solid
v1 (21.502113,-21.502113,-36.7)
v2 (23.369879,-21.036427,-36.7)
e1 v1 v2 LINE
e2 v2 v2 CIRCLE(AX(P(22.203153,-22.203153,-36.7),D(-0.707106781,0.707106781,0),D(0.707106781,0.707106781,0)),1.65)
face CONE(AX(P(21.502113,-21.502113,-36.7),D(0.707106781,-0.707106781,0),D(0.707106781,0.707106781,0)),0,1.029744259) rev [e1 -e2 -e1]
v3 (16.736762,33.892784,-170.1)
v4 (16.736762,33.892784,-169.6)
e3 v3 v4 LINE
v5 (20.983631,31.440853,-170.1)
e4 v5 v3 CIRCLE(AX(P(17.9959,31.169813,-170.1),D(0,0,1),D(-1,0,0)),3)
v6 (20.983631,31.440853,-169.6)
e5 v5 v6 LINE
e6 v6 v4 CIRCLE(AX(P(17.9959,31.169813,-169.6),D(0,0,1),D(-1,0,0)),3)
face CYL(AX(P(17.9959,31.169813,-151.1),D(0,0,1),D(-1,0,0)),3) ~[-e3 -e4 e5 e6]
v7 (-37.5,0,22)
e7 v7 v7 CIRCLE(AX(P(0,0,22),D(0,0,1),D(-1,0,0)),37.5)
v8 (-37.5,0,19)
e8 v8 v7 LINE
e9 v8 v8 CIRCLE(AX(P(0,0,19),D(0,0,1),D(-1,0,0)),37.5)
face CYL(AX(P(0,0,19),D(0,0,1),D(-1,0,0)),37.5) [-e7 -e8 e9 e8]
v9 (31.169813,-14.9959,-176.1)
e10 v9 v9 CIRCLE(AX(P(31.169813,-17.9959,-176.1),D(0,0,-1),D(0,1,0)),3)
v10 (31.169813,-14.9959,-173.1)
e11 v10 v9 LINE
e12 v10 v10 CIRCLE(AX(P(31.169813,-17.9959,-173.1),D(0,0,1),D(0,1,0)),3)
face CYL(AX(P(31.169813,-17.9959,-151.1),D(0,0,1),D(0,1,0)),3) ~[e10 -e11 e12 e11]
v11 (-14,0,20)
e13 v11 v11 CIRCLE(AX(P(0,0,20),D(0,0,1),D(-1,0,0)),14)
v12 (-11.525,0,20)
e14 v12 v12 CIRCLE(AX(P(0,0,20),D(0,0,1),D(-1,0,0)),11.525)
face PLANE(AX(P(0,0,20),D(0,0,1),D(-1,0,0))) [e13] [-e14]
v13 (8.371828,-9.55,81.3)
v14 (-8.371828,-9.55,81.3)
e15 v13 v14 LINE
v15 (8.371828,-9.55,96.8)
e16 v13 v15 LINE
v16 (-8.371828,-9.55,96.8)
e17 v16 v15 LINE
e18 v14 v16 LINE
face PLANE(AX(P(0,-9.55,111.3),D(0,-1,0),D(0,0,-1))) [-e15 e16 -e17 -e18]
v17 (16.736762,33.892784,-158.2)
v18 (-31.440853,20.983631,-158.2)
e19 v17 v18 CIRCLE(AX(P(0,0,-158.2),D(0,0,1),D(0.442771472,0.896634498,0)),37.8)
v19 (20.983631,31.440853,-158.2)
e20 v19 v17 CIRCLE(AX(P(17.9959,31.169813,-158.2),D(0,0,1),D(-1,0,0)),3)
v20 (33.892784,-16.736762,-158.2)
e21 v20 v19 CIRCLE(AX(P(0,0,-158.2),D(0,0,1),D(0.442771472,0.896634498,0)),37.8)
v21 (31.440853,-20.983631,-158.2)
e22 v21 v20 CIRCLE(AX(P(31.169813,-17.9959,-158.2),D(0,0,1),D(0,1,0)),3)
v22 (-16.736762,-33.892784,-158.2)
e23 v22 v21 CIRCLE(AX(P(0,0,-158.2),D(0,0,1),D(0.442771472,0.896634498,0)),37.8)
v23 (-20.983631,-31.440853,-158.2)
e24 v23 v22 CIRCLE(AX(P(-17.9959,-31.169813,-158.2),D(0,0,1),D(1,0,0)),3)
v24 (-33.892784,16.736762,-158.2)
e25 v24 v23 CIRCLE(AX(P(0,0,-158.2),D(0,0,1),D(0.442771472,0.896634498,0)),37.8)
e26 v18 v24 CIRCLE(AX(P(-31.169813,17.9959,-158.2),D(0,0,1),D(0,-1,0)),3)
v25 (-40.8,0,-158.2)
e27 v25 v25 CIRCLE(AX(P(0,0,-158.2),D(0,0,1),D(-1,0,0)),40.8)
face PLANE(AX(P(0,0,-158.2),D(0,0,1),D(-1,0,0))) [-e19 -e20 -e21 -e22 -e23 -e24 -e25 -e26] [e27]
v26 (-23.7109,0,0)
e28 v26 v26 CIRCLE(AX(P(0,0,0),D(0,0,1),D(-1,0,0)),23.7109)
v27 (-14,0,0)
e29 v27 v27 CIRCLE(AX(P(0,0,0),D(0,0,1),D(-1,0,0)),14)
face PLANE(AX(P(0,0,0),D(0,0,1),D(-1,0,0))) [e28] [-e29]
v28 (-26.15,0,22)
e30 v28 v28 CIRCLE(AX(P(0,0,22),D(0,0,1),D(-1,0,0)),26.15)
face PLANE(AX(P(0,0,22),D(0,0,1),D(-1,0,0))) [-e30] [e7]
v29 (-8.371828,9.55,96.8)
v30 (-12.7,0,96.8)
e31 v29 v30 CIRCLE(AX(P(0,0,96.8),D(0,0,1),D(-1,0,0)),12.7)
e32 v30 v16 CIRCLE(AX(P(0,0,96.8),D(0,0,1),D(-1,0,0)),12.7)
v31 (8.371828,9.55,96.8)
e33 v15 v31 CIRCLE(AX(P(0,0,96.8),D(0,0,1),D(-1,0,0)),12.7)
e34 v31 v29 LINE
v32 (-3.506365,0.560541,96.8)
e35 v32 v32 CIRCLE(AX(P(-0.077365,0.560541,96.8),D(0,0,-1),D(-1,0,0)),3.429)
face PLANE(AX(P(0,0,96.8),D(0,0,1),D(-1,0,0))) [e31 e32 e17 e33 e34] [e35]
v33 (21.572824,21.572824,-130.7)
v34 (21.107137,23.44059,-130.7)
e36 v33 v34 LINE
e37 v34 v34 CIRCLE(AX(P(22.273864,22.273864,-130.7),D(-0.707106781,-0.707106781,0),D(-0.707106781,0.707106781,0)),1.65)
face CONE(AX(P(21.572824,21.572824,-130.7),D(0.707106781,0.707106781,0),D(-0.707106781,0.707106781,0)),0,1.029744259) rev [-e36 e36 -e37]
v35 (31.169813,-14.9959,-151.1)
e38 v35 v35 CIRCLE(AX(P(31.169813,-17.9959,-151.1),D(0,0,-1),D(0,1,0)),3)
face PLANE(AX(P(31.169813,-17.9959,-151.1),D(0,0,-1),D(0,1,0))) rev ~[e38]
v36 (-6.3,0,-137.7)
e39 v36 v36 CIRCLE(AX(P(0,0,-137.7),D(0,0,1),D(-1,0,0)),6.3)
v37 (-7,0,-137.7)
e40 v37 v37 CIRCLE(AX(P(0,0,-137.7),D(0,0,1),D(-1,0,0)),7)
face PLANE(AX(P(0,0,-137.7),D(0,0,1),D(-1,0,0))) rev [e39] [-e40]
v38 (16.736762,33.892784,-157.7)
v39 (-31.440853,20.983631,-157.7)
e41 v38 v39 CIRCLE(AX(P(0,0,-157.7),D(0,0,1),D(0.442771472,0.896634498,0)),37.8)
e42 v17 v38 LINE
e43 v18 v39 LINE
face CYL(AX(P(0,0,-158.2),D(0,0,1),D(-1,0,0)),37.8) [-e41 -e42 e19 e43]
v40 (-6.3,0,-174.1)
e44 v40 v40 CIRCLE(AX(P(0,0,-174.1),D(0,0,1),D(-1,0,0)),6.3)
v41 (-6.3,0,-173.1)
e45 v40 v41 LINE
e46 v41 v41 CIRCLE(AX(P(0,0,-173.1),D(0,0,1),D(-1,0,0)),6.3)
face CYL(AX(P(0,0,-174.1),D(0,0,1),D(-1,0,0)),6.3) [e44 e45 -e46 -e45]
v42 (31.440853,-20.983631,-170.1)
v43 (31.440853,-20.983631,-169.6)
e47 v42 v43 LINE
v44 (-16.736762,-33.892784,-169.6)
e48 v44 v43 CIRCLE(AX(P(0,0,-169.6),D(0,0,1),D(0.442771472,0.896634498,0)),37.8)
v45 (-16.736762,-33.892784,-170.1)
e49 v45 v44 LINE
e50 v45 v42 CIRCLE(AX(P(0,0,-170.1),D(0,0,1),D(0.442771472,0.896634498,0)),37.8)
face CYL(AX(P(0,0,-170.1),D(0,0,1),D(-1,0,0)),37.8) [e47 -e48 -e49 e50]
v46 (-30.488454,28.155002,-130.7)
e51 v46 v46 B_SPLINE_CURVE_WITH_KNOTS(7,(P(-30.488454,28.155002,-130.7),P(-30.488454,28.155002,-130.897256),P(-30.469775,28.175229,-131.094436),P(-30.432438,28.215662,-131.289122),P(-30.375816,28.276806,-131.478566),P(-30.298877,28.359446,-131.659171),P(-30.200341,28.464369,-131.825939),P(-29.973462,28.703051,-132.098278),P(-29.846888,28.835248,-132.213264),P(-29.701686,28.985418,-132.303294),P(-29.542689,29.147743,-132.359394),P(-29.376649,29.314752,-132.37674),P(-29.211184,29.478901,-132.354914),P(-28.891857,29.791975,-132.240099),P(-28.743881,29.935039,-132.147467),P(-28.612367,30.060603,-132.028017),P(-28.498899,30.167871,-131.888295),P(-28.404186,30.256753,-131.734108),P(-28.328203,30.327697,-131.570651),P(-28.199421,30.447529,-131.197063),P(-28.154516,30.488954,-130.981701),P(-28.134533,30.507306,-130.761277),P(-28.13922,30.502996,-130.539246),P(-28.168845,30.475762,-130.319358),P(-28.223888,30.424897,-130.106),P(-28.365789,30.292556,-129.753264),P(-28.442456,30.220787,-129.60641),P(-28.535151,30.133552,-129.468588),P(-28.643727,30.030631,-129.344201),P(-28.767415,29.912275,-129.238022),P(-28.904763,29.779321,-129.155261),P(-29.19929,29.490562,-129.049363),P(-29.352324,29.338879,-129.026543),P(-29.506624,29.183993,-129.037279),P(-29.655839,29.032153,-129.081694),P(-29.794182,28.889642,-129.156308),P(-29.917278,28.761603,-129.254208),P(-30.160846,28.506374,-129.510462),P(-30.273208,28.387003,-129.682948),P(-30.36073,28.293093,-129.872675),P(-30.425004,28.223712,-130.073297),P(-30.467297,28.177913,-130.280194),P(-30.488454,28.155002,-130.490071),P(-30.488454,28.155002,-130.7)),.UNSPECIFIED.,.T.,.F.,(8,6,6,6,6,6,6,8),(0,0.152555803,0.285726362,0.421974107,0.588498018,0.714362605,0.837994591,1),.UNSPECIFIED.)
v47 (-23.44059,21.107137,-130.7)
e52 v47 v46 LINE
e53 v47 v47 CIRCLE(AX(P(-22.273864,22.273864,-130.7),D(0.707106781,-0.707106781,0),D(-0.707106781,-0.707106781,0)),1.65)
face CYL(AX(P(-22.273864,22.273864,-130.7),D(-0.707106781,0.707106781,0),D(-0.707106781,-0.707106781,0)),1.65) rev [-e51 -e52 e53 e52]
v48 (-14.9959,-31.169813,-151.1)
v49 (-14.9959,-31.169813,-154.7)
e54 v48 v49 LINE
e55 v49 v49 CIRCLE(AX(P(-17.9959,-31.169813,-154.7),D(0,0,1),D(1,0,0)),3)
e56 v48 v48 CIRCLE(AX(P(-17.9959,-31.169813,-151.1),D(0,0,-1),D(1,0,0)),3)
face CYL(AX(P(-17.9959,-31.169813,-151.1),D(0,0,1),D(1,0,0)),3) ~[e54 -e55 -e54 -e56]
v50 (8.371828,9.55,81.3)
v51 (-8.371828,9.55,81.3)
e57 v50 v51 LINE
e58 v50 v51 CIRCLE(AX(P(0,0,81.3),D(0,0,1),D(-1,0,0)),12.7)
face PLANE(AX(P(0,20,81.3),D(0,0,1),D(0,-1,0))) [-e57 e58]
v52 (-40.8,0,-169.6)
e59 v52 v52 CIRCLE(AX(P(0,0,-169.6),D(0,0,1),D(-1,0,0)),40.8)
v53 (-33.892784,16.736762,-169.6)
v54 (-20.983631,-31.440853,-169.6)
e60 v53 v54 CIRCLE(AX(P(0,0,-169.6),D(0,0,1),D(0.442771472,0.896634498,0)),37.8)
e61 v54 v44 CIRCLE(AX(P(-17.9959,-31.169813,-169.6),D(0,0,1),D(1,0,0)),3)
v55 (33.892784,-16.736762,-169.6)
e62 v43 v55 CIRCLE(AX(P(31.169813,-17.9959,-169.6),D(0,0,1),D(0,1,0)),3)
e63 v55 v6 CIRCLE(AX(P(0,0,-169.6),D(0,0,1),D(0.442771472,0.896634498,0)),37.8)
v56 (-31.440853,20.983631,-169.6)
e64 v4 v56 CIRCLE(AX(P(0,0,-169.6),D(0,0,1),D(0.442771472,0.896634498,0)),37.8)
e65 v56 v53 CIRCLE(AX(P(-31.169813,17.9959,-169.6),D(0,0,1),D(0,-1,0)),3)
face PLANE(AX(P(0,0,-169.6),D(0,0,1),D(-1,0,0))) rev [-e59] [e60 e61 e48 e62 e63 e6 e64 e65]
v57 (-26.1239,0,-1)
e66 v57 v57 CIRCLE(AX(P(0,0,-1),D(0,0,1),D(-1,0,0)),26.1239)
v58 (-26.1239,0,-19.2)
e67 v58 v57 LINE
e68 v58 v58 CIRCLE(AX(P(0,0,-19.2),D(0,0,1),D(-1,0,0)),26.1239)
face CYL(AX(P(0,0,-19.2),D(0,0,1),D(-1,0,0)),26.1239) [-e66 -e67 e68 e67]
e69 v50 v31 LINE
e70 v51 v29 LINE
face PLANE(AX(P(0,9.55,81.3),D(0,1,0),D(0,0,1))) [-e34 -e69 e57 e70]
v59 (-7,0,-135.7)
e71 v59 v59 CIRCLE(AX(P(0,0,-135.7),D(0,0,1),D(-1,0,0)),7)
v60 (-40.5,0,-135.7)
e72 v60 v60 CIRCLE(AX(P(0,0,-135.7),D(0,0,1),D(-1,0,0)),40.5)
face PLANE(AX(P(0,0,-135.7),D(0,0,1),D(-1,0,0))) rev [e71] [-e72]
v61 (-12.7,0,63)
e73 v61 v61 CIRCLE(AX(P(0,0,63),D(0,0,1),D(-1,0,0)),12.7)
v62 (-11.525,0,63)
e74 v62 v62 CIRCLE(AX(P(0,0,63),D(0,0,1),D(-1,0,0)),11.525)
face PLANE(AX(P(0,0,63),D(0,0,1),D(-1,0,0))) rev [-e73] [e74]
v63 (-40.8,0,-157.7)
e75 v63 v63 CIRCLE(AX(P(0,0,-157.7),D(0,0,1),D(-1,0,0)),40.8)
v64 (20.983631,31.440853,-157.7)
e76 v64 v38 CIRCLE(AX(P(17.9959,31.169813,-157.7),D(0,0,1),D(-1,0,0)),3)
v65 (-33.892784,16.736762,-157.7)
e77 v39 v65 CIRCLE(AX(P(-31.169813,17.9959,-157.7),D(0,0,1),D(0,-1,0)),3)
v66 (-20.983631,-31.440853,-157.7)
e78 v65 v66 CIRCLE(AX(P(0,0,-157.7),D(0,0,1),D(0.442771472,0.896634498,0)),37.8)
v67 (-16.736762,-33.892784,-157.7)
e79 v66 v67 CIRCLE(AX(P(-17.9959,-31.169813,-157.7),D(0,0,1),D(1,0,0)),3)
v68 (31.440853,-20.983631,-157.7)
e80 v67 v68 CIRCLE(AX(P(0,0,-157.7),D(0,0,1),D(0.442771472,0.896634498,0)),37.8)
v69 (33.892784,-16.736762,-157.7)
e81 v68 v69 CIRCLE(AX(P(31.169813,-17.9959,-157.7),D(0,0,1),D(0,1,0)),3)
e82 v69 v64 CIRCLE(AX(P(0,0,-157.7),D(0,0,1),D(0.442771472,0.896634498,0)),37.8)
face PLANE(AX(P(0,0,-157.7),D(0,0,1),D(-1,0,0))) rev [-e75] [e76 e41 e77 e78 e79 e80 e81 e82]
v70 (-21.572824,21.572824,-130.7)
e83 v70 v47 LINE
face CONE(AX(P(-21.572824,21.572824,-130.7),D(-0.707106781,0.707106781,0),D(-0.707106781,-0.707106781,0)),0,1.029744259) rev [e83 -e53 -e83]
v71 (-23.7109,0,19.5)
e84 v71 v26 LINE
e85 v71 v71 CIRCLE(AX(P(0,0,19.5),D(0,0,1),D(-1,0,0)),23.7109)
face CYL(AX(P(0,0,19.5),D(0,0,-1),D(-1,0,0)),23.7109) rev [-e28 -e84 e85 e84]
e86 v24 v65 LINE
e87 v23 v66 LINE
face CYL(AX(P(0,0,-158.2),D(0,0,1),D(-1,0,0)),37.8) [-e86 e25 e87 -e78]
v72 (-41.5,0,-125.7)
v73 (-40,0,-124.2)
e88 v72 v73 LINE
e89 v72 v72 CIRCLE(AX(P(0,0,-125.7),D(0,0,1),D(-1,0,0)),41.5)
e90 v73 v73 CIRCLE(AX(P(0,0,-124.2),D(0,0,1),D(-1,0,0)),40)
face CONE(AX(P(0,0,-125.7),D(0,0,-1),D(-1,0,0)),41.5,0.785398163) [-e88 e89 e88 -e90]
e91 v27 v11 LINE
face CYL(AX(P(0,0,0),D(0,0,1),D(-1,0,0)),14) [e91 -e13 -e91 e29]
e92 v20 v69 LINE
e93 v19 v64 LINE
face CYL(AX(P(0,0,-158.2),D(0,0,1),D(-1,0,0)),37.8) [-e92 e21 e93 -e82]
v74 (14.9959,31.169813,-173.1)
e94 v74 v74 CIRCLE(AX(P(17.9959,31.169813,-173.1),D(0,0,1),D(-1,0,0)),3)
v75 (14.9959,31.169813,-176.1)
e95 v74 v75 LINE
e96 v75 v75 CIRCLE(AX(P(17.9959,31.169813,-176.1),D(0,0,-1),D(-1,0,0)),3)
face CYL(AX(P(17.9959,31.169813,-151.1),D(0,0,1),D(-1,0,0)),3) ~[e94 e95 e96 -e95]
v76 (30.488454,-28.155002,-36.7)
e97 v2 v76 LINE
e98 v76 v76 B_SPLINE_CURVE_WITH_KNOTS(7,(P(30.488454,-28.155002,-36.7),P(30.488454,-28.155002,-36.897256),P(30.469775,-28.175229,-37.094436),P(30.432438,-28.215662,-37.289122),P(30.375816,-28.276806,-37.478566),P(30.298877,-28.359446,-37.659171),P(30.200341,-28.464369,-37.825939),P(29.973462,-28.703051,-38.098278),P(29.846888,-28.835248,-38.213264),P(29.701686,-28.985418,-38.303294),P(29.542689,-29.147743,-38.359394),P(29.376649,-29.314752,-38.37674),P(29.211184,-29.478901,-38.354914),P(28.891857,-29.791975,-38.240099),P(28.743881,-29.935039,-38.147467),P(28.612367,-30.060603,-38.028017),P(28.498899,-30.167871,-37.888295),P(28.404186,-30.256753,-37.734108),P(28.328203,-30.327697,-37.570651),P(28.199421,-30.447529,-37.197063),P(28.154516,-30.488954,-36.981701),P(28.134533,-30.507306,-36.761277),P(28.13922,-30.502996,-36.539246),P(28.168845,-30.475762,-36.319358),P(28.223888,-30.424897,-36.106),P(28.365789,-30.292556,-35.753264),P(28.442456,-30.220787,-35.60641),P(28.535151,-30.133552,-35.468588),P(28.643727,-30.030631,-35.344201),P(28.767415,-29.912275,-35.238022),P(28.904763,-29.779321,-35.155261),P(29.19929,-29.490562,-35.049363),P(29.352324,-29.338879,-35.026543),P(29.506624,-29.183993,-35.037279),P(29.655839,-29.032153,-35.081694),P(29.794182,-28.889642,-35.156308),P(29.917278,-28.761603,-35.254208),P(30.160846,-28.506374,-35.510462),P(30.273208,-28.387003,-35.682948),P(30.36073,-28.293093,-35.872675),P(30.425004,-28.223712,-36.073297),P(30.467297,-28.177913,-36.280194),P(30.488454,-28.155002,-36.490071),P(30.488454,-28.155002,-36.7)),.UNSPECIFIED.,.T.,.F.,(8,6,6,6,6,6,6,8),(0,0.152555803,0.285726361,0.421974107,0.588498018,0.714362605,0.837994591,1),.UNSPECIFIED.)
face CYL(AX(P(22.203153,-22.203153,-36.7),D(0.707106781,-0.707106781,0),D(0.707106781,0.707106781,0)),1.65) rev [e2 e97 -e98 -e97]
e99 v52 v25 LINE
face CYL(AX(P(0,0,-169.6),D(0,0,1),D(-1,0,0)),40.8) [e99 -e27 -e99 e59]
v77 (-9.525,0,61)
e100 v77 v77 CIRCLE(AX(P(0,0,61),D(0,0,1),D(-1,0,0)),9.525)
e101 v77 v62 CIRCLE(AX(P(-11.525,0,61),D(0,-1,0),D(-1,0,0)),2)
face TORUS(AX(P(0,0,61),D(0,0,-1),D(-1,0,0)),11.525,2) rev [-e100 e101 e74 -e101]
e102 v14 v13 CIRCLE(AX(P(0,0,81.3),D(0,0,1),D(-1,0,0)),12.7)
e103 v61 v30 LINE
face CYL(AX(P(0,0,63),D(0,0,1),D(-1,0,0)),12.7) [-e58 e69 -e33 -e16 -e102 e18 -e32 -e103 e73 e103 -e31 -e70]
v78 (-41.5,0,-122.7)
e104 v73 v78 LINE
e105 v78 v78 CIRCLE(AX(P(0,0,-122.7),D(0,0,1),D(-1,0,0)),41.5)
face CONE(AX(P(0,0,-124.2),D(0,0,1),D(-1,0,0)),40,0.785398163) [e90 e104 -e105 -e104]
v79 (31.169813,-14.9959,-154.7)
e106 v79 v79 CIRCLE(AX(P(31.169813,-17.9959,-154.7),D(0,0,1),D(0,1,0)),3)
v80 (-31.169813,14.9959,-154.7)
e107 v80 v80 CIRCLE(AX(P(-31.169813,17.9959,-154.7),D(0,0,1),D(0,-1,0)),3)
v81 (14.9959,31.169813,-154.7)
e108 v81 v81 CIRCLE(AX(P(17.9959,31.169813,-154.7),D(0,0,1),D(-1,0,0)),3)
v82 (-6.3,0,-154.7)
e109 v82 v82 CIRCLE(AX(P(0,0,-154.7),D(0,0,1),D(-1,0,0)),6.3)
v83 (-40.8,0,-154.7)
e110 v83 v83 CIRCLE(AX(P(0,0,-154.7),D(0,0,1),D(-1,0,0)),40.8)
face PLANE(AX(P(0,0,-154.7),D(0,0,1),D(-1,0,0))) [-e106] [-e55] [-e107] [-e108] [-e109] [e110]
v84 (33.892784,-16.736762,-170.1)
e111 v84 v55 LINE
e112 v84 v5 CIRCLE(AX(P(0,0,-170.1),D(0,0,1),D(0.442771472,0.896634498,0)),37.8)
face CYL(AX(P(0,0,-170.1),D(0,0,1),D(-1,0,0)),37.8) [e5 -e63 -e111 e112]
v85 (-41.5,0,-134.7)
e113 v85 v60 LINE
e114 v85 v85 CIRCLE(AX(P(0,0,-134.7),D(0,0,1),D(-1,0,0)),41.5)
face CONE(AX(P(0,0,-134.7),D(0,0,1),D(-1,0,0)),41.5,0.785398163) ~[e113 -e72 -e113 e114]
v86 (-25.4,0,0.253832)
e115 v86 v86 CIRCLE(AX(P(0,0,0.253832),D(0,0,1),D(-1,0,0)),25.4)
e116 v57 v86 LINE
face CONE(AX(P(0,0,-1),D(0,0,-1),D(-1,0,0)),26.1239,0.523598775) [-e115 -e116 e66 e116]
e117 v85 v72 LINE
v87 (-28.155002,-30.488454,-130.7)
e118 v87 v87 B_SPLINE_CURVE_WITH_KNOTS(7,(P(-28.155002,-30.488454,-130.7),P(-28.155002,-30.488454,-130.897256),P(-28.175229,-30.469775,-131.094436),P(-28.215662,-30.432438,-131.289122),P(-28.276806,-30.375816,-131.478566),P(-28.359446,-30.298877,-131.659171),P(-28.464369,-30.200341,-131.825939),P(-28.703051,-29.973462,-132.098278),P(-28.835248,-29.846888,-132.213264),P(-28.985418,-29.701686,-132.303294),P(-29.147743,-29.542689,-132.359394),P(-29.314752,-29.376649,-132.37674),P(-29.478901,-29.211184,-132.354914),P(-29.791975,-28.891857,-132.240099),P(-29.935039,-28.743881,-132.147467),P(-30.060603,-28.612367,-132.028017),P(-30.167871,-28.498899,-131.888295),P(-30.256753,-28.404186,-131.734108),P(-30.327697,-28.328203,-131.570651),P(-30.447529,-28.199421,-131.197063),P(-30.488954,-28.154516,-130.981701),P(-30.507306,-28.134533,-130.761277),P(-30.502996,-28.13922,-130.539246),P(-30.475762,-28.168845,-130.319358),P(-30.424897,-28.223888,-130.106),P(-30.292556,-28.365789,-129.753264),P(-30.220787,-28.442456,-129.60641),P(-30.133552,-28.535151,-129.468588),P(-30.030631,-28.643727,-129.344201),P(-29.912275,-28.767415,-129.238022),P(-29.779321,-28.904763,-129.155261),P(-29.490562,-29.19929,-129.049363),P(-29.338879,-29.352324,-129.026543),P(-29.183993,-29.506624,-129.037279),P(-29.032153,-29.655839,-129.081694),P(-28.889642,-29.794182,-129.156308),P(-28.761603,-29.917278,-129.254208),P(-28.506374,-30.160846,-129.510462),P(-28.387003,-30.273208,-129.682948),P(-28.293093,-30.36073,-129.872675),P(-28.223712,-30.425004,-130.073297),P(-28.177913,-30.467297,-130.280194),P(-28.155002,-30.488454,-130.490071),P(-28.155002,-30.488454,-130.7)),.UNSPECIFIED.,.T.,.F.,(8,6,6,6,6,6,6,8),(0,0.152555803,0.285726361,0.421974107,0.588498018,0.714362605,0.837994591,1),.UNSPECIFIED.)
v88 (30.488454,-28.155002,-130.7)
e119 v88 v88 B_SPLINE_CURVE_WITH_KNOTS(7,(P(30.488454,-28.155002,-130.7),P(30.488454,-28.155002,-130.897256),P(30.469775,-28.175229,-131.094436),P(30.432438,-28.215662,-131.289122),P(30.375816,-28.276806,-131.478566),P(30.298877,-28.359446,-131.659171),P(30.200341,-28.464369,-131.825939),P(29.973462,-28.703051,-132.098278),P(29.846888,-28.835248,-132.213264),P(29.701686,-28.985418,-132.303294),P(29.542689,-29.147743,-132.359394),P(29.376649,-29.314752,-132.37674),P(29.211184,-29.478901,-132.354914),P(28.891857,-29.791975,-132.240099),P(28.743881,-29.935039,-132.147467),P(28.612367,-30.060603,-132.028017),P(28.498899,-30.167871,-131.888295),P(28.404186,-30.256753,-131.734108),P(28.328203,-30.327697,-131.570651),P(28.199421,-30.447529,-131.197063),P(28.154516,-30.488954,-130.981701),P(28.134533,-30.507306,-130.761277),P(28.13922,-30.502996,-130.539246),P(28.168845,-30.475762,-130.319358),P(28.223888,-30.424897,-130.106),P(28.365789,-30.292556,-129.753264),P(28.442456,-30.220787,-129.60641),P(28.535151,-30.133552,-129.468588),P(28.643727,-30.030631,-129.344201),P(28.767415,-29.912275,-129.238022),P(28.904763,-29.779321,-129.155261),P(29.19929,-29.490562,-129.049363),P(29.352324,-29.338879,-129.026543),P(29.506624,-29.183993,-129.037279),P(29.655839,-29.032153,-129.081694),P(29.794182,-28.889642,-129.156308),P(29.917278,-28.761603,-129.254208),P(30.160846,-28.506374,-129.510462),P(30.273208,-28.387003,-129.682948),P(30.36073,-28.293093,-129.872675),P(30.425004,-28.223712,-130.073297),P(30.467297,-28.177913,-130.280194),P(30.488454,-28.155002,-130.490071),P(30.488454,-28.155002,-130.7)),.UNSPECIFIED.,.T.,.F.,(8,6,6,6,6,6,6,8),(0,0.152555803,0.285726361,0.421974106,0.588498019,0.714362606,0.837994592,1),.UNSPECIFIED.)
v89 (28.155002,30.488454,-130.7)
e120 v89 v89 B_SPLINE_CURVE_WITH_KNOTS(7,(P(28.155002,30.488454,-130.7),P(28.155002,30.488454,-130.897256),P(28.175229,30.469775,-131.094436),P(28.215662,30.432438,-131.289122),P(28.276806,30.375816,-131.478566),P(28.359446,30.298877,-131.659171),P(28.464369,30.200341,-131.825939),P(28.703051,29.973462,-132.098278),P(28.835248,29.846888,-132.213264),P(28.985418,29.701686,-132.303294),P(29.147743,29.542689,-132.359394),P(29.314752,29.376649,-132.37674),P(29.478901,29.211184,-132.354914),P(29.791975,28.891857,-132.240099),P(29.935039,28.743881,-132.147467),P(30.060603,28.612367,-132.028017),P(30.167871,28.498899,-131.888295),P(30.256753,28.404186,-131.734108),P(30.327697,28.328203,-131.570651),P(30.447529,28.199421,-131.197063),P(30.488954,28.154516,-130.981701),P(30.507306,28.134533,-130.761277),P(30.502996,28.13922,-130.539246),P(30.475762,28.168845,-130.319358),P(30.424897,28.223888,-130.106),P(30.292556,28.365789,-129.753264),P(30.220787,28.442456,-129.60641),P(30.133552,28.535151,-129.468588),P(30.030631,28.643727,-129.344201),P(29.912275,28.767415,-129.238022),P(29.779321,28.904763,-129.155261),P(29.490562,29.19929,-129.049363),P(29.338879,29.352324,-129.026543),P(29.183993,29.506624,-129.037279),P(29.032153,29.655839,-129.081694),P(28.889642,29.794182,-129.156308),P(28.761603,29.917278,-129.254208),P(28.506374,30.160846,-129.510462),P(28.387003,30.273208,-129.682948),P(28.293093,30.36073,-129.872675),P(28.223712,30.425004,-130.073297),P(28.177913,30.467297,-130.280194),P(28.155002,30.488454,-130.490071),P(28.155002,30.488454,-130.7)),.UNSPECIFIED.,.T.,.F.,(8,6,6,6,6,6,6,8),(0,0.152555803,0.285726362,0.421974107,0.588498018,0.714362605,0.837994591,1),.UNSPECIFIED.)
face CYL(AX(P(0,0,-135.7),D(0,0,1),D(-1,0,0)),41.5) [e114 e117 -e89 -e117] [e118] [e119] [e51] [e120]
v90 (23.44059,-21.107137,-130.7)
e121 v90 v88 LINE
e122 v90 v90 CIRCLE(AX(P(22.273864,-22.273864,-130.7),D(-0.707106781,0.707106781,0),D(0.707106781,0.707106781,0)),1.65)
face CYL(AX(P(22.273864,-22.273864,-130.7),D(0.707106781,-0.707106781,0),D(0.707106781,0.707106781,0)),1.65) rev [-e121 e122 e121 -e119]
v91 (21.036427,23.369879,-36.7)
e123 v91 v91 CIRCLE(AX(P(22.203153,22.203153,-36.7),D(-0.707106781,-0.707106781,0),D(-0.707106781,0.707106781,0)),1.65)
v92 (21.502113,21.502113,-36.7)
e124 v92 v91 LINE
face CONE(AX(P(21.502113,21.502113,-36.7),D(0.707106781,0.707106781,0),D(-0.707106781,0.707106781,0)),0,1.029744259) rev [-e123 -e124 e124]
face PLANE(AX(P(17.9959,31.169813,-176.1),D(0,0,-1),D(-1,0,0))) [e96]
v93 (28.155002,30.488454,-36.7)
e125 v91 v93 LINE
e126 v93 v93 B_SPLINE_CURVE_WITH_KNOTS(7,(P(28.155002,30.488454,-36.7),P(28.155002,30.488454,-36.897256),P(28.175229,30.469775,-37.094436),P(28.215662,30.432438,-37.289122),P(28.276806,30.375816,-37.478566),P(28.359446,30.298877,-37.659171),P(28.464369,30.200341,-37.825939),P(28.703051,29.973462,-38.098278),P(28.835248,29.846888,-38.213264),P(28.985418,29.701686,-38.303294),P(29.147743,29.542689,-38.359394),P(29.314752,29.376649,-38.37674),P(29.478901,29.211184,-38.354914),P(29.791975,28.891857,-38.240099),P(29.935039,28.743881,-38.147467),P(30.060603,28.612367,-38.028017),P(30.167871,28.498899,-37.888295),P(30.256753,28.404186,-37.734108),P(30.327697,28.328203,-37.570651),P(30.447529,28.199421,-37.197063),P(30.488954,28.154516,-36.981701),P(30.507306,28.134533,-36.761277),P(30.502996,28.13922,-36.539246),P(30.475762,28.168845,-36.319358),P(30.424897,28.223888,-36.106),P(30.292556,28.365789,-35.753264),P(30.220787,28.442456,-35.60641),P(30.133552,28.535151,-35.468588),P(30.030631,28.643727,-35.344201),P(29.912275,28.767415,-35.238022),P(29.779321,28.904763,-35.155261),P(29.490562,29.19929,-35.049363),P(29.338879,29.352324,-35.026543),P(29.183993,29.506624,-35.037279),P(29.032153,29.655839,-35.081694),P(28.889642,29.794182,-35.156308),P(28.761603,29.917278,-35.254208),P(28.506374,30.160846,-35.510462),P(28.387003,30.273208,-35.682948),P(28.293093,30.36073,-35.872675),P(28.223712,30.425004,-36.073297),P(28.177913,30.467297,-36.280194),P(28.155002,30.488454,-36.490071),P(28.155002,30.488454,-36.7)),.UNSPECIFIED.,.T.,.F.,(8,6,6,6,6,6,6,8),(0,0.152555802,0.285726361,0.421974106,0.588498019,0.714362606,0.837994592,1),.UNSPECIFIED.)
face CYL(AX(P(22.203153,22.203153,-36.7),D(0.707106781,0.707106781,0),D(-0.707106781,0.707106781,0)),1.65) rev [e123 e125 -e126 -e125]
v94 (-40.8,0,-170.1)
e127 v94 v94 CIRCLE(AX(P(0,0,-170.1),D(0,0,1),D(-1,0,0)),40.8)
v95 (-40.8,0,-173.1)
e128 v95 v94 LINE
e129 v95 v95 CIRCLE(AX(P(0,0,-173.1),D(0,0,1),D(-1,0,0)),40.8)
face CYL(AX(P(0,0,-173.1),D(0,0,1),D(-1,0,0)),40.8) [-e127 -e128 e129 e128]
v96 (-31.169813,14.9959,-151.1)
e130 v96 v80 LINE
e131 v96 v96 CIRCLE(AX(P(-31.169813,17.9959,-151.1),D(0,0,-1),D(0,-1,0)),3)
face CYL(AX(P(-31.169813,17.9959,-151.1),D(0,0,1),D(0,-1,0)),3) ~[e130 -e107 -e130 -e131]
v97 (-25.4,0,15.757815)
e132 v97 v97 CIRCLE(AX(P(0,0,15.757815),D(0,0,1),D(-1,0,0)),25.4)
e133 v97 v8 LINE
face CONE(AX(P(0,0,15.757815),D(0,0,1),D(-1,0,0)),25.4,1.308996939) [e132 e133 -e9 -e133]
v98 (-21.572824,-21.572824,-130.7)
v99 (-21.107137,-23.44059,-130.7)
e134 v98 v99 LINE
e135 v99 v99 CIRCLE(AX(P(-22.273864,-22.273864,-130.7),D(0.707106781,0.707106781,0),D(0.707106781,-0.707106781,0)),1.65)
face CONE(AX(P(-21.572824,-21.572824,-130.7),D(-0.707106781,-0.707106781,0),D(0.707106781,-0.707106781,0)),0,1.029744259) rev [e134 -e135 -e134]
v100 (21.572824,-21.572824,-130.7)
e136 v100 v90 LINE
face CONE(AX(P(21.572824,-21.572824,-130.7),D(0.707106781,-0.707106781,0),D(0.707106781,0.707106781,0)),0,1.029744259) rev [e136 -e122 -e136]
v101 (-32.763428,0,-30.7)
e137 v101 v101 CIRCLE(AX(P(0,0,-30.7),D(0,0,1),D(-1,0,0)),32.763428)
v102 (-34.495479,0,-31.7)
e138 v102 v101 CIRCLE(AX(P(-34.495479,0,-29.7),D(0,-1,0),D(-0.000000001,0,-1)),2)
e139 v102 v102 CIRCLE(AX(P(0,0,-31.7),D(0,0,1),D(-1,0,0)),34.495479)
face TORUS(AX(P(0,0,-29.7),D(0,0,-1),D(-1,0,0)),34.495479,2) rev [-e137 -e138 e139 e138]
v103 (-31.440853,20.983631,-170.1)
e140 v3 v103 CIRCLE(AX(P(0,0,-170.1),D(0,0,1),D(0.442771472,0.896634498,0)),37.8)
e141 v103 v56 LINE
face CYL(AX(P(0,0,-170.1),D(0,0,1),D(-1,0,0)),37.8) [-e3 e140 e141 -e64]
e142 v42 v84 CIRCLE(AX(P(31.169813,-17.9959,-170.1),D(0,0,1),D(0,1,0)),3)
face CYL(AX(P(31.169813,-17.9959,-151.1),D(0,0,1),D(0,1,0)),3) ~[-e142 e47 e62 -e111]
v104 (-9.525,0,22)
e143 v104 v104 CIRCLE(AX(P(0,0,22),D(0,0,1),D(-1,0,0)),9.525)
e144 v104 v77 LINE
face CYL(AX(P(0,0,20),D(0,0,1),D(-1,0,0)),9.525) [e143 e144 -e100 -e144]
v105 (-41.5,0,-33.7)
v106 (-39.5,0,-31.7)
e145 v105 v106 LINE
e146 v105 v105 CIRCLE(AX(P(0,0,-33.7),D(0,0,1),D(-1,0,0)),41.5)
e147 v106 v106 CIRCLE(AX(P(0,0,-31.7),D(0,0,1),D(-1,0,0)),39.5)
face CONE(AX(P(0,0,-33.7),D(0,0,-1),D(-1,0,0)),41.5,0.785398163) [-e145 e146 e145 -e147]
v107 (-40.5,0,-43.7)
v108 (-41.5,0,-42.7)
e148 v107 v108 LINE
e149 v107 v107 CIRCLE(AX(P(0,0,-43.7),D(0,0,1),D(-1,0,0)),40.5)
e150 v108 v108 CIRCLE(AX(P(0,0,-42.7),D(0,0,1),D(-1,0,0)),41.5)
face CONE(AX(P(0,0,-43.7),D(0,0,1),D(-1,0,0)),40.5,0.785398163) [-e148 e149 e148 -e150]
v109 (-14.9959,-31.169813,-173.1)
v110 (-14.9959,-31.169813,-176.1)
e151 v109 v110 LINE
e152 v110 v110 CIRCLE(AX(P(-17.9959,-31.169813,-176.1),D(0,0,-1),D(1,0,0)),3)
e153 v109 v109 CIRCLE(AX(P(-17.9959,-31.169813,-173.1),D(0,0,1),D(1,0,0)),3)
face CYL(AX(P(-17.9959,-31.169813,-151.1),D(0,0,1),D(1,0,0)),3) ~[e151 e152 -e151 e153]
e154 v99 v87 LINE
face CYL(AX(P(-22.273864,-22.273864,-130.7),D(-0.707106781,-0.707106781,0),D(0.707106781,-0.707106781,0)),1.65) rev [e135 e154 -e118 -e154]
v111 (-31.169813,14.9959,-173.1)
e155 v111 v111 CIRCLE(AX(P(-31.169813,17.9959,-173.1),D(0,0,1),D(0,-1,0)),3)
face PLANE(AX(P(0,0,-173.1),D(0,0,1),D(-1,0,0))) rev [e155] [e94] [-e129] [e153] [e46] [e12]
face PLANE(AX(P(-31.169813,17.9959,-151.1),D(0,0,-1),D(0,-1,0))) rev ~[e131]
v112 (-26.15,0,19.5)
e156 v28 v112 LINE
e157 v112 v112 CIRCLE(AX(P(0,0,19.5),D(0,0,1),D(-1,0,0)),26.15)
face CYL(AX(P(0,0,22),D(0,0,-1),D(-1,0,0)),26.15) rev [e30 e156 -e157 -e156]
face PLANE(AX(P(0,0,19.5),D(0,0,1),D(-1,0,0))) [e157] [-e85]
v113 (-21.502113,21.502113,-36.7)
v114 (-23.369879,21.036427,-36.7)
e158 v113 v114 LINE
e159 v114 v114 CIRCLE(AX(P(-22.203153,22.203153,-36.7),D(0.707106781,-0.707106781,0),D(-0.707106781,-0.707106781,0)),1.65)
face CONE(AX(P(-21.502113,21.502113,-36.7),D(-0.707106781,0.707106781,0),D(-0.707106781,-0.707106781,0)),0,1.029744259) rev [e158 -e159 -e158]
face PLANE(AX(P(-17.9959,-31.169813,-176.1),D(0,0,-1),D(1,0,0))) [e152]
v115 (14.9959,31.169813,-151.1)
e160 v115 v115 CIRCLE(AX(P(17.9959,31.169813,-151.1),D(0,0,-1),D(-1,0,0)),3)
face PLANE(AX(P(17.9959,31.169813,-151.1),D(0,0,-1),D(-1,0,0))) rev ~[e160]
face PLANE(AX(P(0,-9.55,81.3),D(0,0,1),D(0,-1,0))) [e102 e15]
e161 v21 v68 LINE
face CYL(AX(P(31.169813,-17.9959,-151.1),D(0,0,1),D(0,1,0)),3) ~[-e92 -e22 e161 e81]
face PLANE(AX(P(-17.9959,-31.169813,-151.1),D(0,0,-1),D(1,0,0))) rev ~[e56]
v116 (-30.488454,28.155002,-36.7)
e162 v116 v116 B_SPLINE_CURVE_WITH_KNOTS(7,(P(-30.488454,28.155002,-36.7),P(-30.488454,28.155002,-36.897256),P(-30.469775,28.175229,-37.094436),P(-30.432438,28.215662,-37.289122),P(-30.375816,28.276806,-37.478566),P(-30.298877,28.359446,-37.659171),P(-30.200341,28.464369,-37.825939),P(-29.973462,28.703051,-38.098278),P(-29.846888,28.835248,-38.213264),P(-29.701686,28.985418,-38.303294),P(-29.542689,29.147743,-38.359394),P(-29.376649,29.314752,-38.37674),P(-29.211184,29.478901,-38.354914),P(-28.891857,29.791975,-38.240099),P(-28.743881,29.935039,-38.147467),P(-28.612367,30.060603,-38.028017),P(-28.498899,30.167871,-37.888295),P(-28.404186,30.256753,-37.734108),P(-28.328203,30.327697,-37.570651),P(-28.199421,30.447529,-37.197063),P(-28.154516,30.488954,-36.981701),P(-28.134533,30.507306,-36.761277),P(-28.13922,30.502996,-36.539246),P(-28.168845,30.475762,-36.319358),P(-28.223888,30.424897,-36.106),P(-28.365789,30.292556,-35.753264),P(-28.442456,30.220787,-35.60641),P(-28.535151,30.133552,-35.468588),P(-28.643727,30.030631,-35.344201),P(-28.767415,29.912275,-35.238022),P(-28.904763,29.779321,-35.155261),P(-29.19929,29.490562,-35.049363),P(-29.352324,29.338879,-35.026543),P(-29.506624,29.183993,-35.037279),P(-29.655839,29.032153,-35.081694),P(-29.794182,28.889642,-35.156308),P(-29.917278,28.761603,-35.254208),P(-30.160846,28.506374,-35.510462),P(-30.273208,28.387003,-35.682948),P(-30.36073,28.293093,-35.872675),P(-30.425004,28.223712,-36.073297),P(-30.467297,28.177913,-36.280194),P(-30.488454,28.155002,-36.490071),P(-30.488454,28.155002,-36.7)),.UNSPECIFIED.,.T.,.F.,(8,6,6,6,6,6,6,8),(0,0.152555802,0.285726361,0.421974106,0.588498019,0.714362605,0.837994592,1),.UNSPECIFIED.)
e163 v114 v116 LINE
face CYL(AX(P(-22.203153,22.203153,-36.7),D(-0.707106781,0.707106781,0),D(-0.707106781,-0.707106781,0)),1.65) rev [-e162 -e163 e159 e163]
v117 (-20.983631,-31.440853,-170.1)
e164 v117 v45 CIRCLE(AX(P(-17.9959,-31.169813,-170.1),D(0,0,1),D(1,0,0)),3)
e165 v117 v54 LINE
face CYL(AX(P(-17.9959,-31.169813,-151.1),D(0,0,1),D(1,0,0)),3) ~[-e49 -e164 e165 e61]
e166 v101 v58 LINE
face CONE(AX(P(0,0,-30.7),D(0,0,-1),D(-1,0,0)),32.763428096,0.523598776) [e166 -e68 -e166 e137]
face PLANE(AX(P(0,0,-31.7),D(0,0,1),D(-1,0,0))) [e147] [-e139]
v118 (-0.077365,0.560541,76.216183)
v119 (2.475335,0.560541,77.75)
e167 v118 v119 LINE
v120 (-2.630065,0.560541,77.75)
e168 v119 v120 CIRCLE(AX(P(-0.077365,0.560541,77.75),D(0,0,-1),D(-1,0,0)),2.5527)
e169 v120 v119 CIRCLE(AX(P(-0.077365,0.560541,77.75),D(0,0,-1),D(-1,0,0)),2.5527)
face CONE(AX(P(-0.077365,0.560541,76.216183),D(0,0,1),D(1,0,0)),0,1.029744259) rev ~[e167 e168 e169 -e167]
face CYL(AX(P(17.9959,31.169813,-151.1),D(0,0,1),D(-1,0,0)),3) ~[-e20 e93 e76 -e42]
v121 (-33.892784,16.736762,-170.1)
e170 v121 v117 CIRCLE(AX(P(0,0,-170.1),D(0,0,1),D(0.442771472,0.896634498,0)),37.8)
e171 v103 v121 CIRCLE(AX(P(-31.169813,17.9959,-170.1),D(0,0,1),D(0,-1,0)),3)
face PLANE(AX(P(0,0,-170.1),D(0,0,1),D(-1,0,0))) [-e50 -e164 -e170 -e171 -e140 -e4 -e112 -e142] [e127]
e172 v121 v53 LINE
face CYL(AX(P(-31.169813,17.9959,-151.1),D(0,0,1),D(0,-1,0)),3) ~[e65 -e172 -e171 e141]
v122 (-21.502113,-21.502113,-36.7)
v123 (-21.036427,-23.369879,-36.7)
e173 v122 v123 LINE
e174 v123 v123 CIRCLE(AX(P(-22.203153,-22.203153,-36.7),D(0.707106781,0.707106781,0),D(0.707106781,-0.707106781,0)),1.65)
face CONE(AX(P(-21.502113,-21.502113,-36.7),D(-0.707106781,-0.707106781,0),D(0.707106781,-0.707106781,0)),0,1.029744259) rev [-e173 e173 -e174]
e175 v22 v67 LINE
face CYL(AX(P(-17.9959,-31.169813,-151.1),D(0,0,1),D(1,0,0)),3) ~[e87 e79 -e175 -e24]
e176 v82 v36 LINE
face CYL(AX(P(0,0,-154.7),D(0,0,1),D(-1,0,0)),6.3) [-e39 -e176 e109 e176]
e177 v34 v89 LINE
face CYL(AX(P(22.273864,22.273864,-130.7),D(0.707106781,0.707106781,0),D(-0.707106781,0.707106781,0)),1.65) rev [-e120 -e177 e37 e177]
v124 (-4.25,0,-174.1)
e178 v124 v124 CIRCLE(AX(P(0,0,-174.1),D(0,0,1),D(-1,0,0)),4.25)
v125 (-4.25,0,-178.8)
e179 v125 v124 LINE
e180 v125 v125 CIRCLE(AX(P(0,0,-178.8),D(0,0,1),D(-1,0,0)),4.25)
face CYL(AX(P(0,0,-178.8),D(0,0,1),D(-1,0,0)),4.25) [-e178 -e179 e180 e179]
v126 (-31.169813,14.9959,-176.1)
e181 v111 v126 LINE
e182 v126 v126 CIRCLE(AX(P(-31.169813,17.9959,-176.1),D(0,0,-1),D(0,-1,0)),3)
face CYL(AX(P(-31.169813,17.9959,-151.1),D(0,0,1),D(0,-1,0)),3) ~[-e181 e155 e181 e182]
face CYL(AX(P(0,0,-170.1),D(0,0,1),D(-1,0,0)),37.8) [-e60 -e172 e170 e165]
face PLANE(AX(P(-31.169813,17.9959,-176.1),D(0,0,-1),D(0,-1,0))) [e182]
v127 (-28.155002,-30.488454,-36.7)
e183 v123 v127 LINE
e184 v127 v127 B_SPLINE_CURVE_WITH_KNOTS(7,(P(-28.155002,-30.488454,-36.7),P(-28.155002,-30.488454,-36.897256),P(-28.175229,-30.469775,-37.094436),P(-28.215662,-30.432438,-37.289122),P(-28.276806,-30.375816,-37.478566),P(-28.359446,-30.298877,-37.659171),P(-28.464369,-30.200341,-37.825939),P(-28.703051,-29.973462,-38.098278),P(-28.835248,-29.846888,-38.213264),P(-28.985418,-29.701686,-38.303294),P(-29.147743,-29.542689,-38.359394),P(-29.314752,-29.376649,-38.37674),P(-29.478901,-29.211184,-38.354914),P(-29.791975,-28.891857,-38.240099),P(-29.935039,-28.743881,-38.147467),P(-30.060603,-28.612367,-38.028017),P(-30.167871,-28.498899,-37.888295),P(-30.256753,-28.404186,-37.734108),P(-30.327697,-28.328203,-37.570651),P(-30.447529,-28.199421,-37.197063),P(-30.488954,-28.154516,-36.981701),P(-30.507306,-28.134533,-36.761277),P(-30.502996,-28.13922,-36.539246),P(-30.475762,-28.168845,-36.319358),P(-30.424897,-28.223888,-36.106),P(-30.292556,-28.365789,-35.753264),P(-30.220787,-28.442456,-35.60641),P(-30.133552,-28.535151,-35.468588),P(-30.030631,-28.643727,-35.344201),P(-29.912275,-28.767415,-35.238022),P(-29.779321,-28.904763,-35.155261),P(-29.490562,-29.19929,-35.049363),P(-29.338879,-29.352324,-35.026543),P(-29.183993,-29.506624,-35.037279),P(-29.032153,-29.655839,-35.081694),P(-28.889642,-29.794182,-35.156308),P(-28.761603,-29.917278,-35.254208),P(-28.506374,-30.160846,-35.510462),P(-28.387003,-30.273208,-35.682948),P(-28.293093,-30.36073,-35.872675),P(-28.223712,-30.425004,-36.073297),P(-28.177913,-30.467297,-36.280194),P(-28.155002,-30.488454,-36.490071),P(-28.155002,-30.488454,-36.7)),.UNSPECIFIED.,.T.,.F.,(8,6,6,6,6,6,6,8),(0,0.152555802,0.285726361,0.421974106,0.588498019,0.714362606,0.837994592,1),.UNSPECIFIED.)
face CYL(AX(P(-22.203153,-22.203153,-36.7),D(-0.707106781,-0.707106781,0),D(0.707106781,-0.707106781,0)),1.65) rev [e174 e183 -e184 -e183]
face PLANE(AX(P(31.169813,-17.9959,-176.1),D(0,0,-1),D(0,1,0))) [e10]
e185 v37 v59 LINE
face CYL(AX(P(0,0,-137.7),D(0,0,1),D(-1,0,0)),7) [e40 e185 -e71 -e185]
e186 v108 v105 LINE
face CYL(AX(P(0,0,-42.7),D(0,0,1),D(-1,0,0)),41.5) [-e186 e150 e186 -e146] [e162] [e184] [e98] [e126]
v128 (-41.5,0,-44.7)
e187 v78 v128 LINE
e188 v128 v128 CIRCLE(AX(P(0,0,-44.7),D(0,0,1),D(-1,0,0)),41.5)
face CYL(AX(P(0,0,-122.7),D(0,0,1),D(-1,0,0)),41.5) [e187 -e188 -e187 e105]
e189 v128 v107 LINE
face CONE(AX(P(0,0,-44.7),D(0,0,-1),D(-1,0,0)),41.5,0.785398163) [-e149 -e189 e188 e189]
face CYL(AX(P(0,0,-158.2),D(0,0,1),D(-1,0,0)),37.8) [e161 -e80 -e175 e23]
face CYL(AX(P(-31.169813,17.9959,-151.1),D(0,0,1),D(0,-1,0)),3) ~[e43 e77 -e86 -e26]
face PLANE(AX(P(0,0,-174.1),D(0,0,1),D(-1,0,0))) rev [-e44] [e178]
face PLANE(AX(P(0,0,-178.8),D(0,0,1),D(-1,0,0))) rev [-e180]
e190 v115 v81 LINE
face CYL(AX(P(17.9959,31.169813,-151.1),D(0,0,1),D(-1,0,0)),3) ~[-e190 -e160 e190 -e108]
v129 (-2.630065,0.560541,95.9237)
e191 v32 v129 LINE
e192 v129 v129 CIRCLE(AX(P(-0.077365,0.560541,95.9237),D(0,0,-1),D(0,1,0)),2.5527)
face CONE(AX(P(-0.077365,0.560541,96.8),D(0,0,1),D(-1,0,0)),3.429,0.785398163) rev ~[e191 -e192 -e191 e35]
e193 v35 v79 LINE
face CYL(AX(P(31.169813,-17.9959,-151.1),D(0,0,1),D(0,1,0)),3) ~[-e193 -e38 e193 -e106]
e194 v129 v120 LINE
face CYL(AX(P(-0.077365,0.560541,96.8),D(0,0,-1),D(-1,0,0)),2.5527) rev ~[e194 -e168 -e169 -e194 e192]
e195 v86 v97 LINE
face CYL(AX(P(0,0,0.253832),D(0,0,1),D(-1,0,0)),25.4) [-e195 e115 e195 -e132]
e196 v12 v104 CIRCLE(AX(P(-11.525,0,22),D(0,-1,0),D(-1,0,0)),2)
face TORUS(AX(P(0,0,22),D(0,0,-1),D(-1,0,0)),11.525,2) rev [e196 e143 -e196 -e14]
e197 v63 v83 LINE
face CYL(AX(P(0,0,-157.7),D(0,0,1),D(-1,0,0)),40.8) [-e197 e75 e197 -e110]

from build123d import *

# Parameters (mm, degrees)
EXTRUDE1_DEPTH                    = 20
FILLET1_R                         = 2
CHAMFER2_SIZE                     = 1
F_1_4_20_TAPPED_HOLE1_D           = 5.1054
F_1_4_20_TAPPED_HOLE1_DEPTH       = 19.05
F_1_4_20_TAPPED_HOLE1_CSINK_D     = 6.858
F_1_4_20_TAPPED_HOLE1_CSINK_ANGLE = 90
F_1_4_20_TAPPED_HOLE1_TIP         = 1.533816902
CIRPATTERN2_COUNT                 = 4
BOSS_EXTRUDE3_START               = -22
SKETCH11_R                        = 3
BOSS_EXTRUDE3_DEPTH               = 25
CIRPATTERN3_COUNT                 = 4


with BuildPart() as part:
    # Sketch1 → Revolve1 (revolve)
    with BuildSketch(Plane(origin=(0, 0, 0), x_dir=(0, 0, -1), z_dir=(1, 0, 0))):
        with BuildLine():
            Line((-96.8, 0), (178.8, 0))
            Line((178.8, 0), (178.8, 4.25))
            Line((178.8, 4.25), (174.1, 4.25))
            Line((174.1, 4.25), (174.1, 6.3))
            Line((174.1, 6.3), (173.1, 6.3))
            Line((173.1, 6.3), (173.1, 40.8))
            Line((173.1, 40.8), (170.1, 40.8))
            Line((170.1, 40.8), (170.1, 37.8))
            Line((170.1, 37.8), (169.6, 37.8))
            Line((169.6, 37.8), (169.6, 40.8))
            Line((169.6, 40.8), (158.2, 40.8))
            Line((158.2, 40.8), (158.2, 37.8))
            Line((158.2, 37.8), (157.7, 37.8))
            Line((157.7, 37.8), (157.7, 40.8))
            Line((157.7, 40.8), (154.7, 40.8))
            Line((154.7, 40.8), (154.7, 6.3))
            Line((154.7, 6.3), (137.7, 6.3))
            Line((137.7, 6.3), (137.7, 7))
            Line((137.7, 7), (135.7, 7))
            Line((135.7, 7), (135.7, 41.5))
            Line((135.7, 41.5), (125.7, 41.5))
            Line((125.7, 41.5), (124.2, 40))
            Line((124.2, 40), (122.7, 41.5))
            Line((122.7, 41.5), (44.7, 41.5))
            Line((44.7, 41.5), (43.7, 40.5))
            Line((43.7, 40.5), (42.7, 41.5))
            Line((42.7, 41.5), (33.7, 41.5))
            Line((33.7, 41.5), (31.7, 39.5))
            Line((31.7, 39.5), (31.7, 34.495478903))
            ThreePointArc((31.7, 34.495478903), (31.432050808, 33.495478903), (30.7, 32.763428096))
            Line((30.7, 32.763428096), (19.2, 26.1239))
            Line((19.2, 26.1239), (1, 26.1239))
            Line((1, 26.1239), (-0.25383158, 25.4))
            Line((-0.25383158, 25.4), (-15.757814772, 25.4))
            Line((-15.757814772, 25.4), (-19, 37.5))
            Line((-19, 37.5), (-22, 37.5))
            Line((-22, 37.5), (-22, 26.15))
            Line((-22, 26.15), (-19.5, 26.15))
            Line((-19.5, 26.15), (-19.5, 23.7109))
            Line((-19.5, 23.7109), (0, 23.7109))
            Line((0, 23.7109), (0, 14))
            Line((0, 14), (-20, 14))
            Line((-20, 14), (-20, 9.525))
            Line((-20, 9.525), (-63, 9.525))
            Line((-63, 9.525), (-63, 12.7))
            Line((-63, 12.7), (-96.8, 12.7))
            Line((-96.8, 12.7), (-96.8, 0))
        make_face()
    revolve(axis=Axis((0, 0, 96.8), (0, 0, 1)))

    # Sketch2 → Extrude1 (cut, symmetric)
    with BuildSketch(Plane(origin=(0, 0, 0), x_dir=(0, 0, -1), z_dir=(1, 0, 0))):
        Polygon((-81.3, 20), (-81.3, 9.55), (-111.3, 9.55), (-111.3, -9.55), (-81.3, -9.55), (-81.3, -20), (-121.3, -20), (-121.3, 20), align=None)
    extrude(amount=EXTRUDE1_DEPTH, both=True, mode=Mode.SUBTRACT)

    # Fillet1
    fillet1_edges = [part.edges().sort_by_distance(p)[0] for p in [
        (0, -9.525, 20),
        (0, -9.525, 63),
    ]]
    fillet(fillet1_edges, radius=FILLET1_R)

    # Chamfer2
    chamfer2_edges = [part.edges().sort_by_distance(p)[0] for p in [
        (0, -41.5, -135.7),
    ]]
    chamfer(chamfer2_edges, length=CHAMFER2_SIZE)

    # 1/4-20 Tapped Hole1
    with Locations(Plane.XY.offset(96.8)):
        with Locations((-0.077364806, 0.560541021)):
            CounterSinkHole(F_1_4_20_TAPPED_HOLE1_D / 2, F_1_4_20_TAPPED_HOLE1_CSINK_D / 2, depth=F_1_4_20_TAPPED_HOLE1_DEPTH, counter_sink_angle=F_1_4_20_TAPPED_HOLE1_CSINK_ANGLE)
            with Locations((0, 0, -(F_1_4_20_TAPPED_HOLE1_DEPTH + F_1_4_20_TAPPED_HOLE1_TIP / 2))):  # 118° drill point
                Cone(0, F_1_4_20_TAPPED_HOLE1_D / 2, F_1_4_20_TAPPED_HOLE1_TIP, mode=Mode.SUBTRACT)

    # Sketch9 → M4x0.7 Tapped Hole1 (revolve, cut)
    with BuildSketch(Plane(origin=(29.344931419, 29.344931419, -130.7), x_dir=(-0.7071067811865489, 0.7071067811865462, 0), z_dir=(0, 0, 1))):
        Polygon((0, 0), (0, 10.991420021), (1.65, 10), (1.65, 0), align=None)
    m4x0_7_tapped_hole1 = revolve(axis=Axis((33.83505948, 33.83505948, -130.7), (-0.7071067811865462, -0.7071067811865489, 0)), mode=Mode.SUBTRACT)

    # Sketch10 → M4x0.7 Tapped Hole2 (revolve, cut)
    with BuildSketch(Plane(origin=(29.344931419, 29.344931419, -36.7), x_dir=(-0.7071067811865488, 0.7071067811865462, 0), z_dir=(0, 0, 1))):
        Polygon((0, 0), (0, 11.091420021), (1.65, 10.1), (1.65, 0), align=None)
    m4x0_7_tapped_hole2 = revolve(axis=Axis((33.83505948, 33.83505948, -36.7), (-0.7071067811865464, -0.7071067811865488, 0)), mode=Mode.SUBTRACT)

    # CirPattern2: M4x0.7 Tapped Hole1, M4x0.7 Tapped Hole2 ×4 about axis
    cirpattern2_axis = Axis((0, 0, -80.9), (0, 0, 1))
    add([m4x0_7_tapped_hole1.rotate(cirpattern2_axis, i * 360 / CIRPATTERN2_COUNT) for i in range(1, CIRPATTERN2_COUNT)], mode=Mode.SUBTRACT)
    add([m4x0_7_tapped_hole2.rotate(cirpattern2_axis, i * 360 / CIRPATTERN2_COUNT) for i in range(1, CIRPATTERN2_COUNT)], mode=Mode.SUBTRACT)

    # Sketch11 → Boss-Extrude3 (add)
    with BuildSketch(Plane(origin=(0, 0, -173.1), x_dir=(-1, 0, 0), z_dir=(0, 0, -1)).offset(BOSS_EXTRUDE3_START)):
        with Locations((-17.9959, 31.169813128)):
            Circle(SKETCH11_R)
    boss_extrude3 = extrude(amount=BOSS_EXTRUDE3_DEPTH)

    # CirPattern3: Boss-Extrude3 ×4 about axis
    cirpattern3_axis = Axis((0, 0, -80.9), (0, 0, 1))
    for i in range(1, CIRPATTERN3_COUNT):
        add(boss_extrude3.rotate(cirpattern3_axis, i * 360 / CIRPATTERN3_COUNT))


solid = part.part
